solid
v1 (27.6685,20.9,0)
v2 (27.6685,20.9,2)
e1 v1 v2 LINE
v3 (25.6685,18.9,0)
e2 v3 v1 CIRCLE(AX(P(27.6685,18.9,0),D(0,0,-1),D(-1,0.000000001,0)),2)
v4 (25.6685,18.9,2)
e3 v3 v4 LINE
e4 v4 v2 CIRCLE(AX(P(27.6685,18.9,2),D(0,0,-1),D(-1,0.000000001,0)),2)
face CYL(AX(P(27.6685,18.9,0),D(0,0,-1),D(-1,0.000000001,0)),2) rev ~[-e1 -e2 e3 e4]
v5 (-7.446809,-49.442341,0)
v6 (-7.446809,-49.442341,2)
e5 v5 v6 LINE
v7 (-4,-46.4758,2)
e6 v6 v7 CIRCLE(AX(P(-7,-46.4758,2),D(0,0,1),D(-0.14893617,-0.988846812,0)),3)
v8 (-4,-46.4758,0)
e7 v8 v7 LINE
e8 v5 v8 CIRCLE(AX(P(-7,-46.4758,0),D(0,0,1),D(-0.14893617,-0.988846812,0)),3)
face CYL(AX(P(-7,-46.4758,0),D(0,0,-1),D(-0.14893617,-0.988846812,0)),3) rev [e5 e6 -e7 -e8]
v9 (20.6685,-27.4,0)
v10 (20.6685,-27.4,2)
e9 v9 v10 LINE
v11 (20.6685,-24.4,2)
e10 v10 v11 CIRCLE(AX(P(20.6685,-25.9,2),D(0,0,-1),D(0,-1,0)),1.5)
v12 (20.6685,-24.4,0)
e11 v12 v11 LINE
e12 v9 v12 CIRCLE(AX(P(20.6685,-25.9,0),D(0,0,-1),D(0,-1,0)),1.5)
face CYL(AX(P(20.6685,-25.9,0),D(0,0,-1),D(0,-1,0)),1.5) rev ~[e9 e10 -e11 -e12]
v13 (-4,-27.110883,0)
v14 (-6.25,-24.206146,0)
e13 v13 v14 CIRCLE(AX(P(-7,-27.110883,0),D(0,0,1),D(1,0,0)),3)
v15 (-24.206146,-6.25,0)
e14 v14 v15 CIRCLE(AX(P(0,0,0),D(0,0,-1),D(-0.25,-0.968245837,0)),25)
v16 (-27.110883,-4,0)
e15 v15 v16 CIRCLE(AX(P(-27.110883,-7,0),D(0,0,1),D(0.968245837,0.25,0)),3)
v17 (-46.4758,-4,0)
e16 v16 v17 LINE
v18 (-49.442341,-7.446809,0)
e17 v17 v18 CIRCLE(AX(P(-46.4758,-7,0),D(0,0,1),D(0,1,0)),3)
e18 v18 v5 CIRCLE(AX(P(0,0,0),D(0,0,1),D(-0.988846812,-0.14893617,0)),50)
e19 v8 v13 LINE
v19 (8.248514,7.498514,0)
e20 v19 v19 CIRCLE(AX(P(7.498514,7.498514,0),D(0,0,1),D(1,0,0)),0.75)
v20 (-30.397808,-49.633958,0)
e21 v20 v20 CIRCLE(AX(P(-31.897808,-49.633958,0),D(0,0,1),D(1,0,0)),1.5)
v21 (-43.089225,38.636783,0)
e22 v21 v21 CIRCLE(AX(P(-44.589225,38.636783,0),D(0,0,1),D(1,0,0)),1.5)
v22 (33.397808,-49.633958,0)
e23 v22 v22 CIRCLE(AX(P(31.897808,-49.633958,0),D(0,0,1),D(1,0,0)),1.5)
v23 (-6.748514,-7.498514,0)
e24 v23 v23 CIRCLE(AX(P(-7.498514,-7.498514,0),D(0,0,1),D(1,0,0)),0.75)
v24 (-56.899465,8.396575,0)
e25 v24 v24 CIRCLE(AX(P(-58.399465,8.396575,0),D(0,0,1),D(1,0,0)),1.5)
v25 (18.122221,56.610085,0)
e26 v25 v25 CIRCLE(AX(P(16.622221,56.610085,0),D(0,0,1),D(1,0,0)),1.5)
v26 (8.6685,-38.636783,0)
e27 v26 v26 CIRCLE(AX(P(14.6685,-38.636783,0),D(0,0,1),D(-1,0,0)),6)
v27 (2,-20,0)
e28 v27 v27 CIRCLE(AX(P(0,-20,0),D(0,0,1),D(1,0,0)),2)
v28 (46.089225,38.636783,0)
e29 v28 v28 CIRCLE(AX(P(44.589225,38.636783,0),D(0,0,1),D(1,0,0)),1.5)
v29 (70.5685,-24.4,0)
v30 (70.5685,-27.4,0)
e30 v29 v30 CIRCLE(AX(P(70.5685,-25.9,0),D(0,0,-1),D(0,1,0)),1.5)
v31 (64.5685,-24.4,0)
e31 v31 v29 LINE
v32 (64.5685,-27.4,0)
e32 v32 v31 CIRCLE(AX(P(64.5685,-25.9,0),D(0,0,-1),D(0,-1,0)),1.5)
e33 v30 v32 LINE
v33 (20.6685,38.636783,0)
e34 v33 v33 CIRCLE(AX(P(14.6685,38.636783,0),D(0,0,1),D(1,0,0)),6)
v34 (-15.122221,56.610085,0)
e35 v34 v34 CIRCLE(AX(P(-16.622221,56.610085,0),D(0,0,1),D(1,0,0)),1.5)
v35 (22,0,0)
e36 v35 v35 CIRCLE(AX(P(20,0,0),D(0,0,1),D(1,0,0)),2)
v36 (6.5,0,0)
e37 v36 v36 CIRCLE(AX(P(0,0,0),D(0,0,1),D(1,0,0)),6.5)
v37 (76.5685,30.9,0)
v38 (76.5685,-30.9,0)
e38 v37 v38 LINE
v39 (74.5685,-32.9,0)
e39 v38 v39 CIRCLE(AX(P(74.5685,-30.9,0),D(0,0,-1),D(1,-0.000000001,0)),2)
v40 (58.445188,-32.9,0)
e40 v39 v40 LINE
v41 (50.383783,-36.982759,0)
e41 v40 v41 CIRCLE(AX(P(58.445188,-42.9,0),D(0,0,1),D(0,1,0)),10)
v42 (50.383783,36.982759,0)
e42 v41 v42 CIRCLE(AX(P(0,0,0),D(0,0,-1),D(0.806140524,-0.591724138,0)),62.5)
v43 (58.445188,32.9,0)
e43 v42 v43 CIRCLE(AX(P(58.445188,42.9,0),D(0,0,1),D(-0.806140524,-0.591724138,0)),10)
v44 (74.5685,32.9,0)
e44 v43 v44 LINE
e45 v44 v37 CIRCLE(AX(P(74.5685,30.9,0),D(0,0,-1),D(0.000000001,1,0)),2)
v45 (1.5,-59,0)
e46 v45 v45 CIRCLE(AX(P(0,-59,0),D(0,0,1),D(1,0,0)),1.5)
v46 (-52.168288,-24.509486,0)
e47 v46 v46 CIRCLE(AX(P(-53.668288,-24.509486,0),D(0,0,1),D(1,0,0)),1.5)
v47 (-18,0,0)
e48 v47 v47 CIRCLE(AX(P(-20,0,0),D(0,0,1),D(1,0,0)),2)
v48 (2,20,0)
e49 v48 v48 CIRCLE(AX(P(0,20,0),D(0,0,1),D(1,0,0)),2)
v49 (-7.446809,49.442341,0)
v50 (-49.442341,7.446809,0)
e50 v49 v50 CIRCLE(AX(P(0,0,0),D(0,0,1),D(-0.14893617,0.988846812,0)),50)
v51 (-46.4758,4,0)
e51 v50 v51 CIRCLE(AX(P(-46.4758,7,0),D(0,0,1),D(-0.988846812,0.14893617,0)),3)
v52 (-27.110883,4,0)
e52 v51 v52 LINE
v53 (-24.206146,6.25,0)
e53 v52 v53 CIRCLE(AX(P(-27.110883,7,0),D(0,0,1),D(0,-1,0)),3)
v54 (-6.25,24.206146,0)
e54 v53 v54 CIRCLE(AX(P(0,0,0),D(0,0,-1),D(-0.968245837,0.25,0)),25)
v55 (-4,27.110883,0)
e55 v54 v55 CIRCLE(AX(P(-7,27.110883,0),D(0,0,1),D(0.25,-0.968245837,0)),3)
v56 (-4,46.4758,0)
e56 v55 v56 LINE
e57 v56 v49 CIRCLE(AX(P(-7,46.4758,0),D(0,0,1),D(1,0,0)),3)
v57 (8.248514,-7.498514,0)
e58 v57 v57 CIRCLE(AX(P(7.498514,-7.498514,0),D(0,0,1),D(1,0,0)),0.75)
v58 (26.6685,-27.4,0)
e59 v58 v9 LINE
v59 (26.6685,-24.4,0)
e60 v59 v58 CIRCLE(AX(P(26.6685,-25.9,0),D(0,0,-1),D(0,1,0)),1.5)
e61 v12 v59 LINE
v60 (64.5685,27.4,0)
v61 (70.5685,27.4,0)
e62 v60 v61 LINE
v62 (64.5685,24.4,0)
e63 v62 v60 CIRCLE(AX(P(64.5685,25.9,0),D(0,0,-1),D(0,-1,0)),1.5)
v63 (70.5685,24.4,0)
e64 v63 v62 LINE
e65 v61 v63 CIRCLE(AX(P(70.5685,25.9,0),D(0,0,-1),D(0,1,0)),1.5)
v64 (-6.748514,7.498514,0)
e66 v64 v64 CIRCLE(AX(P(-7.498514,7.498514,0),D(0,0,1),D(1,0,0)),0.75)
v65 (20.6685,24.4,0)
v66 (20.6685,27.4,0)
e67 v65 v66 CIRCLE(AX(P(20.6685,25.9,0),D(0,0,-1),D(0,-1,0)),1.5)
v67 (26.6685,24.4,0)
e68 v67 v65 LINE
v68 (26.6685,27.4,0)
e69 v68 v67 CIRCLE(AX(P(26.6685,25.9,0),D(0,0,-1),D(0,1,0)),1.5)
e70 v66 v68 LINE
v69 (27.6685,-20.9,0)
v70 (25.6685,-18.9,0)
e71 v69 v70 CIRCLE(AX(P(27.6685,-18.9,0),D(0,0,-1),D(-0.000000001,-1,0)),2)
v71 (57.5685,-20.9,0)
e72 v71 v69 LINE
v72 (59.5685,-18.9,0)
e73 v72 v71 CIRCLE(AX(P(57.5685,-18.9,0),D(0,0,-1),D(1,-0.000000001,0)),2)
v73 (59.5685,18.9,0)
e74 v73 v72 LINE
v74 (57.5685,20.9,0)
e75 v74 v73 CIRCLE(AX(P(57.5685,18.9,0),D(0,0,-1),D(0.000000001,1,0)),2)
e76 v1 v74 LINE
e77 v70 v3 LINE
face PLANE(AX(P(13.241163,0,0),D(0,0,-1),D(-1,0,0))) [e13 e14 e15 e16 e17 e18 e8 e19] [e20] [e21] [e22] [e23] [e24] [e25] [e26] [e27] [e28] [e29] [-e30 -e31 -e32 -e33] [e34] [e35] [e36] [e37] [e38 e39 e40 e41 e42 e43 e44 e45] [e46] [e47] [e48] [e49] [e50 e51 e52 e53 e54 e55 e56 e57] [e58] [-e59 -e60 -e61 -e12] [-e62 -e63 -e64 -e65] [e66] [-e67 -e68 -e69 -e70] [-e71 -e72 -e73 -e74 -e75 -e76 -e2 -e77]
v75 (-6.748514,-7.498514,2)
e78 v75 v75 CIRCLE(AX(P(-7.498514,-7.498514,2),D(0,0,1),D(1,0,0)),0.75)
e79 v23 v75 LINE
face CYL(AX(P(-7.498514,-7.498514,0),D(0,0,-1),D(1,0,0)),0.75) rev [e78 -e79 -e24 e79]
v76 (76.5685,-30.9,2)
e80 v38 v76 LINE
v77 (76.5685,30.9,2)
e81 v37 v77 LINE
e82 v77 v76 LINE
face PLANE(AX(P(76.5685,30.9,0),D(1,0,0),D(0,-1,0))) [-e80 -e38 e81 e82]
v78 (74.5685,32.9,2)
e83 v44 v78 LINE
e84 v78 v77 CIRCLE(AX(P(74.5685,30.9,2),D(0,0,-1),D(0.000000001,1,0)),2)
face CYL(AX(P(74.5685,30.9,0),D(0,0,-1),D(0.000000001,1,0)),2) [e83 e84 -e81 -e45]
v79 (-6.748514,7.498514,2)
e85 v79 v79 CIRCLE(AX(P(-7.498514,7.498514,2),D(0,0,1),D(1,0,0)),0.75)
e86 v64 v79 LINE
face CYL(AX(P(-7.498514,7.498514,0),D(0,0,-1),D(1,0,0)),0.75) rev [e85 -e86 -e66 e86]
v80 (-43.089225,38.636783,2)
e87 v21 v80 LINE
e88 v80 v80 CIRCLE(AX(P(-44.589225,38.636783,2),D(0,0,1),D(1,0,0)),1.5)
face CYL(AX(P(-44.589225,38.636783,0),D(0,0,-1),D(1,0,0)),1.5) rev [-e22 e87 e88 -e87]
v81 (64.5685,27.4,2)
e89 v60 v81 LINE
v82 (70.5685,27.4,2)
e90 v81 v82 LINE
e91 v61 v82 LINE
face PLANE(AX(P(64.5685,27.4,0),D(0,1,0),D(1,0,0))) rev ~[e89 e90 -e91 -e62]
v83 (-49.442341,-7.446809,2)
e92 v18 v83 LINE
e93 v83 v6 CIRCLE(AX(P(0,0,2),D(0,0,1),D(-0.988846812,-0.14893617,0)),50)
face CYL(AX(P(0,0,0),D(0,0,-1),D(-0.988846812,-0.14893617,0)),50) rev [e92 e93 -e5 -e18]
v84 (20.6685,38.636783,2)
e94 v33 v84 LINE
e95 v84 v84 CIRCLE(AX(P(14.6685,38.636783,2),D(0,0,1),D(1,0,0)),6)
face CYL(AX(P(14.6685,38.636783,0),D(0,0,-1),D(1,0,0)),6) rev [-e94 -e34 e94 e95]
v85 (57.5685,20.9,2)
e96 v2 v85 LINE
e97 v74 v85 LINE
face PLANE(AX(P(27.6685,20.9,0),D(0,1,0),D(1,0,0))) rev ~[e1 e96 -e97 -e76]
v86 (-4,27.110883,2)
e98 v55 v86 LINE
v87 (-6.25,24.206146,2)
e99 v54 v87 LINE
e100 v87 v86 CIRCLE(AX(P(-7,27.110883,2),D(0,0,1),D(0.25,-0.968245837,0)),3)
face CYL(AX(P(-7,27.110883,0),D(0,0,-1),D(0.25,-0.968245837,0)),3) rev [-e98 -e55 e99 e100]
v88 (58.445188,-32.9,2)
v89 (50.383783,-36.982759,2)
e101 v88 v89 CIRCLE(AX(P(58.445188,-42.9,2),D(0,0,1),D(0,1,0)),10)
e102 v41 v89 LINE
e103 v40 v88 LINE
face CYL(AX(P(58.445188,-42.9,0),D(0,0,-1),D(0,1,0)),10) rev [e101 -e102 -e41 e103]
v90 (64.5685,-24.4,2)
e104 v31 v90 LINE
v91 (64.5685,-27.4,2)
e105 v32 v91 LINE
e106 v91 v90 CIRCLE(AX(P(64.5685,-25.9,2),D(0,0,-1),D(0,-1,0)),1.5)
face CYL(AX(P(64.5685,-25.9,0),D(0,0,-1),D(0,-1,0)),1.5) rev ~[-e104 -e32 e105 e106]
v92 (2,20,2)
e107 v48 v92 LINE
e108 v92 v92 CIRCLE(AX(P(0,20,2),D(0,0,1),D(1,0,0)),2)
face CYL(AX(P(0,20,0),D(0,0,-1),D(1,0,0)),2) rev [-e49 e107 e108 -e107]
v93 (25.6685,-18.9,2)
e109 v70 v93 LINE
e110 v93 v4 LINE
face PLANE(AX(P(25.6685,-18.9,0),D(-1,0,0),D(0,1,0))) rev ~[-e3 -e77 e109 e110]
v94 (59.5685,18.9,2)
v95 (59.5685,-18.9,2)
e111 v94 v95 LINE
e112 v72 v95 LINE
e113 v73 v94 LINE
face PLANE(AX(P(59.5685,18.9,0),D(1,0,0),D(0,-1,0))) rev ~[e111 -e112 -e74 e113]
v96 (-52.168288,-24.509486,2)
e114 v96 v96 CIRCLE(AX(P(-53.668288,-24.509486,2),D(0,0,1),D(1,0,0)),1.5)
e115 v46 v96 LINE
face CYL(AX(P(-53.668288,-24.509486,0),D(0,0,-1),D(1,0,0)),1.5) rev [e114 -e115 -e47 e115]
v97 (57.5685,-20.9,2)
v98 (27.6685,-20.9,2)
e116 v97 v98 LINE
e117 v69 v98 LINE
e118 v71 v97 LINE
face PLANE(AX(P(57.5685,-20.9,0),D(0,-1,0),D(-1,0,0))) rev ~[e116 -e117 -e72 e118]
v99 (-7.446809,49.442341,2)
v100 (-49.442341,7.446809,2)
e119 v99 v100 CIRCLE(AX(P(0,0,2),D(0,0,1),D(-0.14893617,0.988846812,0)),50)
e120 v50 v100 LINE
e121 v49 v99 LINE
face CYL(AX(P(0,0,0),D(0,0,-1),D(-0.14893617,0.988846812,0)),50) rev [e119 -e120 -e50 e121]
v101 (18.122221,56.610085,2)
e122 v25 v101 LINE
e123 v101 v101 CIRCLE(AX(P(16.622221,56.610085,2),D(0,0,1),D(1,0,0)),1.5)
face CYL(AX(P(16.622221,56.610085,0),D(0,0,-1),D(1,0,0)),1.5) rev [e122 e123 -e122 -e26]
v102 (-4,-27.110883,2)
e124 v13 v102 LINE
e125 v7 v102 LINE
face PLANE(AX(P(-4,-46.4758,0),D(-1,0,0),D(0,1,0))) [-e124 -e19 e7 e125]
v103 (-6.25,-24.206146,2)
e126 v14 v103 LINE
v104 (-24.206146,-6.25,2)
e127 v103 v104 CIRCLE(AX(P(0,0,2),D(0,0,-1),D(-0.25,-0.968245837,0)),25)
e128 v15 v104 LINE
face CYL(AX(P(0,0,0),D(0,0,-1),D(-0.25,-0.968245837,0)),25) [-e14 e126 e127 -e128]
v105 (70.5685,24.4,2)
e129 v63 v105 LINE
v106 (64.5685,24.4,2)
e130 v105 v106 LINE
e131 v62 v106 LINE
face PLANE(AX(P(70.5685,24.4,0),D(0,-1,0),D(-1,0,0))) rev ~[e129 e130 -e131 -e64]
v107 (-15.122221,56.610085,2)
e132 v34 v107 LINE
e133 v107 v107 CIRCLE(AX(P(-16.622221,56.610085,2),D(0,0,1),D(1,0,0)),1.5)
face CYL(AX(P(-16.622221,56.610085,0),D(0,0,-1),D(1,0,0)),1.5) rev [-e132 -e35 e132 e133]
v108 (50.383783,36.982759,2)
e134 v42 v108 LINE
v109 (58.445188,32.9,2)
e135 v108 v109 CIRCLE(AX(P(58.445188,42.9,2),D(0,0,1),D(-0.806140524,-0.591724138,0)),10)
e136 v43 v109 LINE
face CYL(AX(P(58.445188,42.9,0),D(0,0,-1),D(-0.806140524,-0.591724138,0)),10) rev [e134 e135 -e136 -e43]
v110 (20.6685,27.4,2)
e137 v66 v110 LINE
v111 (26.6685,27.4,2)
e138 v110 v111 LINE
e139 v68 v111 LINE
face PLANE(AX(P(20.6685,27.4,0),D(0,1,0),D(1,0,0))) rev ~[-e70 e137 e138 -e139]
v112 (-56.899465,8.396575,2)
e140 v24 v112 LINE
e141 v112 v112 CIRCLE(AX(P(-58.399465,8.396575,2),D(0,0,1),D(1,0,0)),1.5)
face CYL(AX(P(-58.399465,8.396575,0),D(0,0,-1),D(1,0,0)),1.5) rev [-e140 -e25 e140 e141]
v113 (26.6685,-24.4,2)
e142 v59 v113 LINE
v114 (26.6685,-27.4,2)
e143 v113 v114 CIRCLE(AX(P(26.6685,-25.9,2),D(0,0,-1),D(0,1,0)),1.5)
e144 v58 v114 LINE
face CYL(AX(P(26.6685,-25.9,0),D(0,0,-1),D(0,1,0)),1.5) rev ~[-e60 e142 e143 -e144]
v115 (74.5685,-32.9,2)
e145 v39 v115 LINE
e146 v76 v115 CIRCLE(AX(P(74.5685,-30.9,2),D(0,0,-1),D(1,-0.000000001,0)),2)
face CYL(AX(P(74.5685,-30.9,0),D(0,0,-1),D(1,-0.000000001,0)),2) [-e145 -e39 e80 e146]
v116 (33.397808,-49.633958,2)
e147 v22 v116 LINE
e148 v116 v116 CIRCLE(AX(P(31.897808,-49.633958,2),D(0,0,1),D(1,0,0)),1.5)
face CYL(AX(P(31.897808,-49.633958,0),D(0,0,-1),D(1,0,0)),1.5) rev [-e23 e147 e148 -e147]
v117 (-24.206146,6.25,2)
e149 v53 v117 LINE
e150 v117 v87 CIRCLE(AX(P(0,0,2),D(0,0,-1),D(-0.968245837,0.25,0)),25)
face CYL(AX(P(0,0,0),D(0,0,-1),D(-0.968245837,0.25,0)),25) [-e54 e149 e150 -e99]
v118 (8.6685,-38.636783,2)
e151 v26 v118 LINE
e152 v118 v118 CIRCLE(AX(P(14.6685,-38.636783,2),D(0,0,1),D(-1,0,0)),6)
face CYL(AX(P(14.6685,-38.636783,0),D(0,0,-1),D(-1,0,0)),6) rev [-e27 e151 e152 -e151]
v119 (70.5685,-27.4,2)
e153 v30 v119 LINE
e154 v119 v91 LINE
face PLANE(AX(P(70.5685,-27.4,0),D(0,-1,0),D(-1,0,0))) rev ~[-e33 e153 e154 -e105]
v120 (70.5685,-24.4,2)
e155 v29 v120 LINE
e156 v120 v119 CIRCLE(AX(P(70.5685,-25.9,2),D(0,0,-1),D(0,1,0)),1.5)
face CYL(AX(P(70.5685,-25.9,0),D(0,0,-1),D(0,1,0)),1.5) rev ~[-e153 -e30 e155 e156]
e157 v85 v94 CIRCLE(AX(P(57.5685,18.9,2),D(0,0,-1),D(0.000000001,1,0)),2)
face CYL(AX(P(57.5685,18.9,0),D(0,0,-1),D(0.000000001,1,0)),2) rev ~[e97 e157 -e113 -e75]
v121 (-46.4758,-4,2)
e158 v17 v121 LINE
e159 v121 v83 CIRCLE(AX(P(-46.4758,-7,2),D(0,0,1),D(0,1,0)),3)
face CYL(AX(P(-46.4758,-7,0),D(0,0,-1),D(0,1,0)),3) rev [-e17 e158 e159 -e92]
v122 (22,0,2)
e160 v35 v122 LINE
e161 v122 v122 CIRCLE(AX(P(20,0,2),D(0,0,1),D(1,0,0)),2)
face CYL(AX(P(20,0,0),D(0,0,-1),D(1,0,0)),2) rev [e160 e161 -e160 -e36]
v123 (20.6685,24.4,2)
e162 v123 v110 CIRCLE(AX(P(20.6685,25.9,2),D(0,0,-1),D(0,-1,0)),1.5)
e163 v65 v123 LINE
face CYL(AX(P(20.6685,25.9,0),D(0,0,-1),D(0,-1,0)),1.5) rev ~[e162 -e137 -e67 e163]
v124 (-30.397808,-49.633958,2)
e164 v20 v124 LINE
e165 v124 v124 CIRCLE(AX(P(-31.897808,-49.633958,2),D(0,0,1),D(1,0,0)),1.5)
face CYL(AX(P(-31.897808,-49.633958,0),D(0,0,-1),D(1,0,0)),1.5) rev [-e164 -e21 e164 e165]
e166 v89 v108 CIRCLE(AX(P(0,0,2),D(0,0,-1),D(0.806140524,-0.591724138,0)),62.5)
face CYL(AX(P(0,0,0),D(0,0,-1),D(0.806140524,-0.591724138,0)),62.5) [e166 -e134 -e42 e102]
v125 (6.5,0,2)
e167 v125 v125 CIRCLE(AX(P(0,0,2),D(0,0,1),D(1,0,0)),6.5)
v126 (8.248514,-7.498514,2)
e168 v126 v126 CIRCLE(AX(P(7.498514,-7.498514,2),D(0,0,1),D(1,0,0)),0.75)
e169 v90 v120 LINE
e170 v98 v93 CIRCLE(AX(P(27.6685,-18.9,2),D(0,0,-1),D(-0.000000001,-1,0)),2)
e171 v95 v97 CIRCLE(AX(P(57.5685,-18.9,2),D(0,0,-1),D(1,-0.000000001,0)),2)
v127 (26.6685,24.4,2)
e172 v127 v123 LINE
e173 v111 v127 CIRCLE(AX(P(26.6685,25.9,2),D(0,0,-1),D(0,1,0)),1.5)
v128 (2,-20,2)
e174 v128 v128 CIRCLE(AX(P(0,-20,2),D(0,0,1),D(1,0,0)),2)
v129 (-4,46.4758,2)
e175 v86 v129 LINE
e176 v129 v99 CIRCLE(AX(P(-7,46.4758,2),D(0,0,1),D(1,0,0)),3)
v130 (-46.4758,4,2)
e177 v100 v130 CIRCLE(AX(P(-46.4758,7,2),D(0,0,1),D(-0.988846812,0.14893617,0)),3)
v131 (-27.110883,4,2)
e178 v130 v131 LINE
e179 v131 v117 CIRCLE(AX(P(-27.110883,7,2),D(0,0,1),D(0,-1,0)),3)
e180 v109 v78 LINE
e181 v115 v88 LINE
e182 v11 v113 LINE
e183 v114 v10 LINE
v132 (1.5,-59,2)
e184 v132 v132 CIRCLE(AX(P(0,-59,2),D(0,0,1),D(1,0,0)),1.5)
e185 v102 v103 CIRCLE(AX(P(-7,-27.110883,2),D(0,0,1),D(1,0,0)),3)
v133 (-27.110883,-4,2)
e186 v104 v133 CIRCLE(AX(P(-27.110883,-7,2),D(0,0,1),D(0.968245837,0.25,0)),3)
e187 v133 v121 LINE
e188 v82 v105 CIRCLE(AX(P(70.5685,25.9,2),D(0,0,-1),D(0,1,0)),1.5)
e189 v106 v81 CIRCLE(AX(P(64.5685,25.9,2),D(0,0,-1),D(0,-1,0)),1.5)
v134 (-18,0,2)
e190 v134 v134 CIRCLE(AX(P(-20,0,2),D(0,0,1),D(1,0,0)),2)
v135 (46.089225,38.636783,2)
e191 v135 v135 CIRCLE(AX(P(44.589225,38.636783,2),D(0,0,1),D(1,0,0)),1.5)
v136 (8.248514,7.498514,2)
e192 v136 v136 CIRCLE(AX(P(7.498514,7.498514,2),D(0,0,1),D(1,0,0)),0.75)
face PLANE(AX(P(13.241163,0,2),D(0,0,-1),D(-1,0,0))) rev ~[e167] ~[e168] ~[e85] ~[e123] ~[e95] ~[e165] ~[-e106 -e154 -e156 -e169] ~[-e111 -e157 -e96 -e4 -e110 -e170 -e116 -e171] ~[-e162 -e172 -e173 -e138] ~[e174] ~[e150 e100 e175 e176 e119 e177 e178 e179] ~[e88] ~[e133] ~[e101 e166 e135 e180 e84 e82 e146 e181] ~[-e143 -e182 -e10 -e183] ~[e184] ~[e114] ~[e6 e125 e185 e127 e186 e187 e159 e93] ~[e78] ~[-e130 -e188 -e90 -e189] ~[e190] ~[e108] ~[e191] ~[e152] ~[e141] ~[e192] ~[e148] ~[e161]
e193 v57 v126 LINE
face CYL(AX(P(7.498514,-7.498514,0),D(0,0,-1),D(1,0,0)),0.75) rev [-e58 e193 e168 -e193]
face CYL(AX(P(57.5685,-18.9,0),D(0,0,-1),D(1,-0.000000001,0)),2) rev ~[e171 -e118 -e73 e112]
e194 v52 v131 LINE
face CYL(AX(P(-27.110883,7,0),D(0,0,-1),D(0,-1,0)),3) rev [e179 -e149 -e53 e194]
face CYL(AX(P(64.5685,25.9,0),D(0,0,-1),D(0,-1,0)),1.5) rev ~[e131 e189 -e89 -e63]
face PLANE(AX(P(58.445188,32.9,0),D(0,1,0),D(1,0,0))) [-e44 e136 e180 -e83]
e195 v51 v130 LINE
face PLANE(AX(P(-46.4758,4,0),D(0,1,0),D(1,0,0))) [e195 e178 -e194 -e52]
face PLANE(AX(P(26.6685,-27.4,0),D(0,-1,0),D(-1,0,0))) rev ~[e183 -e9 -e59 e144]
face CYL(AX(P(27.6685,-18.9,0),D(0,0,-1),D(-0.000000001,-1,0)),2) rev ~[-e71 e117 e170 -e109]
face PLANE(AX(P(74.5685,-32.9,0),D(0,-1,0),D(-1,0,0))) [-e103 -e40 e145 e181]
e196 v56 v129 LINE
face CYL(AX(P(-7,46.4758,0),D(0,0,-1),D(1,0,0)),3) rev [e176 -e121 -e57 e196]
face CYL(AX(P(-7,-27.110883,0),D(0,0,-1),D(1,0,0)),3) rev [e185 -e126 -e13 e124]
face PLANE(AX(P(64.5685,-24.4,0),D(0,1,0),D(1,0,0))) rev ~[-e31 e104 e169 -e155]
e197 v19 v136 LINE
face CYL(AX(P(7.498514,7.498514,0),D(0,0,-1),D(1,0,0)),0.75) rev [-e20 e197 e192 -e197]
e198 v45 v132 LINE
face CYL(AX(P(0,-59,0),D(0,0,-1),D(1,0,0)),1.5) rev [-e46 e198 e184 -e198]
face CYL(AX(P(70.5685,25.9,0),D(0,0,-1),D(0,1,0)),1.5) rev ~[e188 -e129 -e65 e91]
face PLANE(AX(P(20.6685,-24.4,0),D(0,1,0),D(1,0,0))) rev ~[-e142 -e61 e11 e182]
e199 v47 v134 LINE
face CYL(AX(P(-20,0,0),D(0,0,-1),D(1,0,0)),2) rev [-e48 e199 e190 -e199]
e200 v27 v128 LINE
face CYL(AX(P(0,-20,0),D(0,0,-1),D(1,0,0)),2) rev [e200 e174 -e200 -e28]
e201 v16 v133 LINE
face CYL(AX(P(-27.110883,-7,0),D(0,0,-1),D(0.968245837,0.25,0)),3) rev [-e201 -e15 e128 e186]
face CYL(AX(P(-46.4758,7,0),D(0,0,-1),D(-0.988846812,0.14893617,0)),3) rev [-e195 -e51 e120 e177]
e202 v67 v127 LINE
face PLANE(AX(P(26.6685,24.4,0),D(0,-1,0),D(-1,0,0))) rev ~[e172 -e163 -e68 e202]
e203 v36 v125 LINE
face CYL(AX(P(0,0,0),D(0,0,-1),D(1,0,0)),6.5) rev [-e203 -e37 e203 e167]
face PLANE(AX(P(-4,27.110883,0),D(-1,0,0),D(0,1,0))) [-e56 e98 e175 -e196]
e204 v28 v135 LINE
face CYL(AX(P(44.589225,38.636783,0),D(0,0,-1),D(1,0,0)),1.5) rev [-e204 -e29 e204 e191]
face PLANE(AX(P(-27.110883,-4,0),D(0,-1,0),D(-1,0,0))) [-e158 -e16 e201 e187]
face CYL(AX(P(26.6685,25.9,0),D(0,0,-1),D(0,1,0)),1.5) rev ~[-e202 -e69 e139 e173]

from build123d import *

# Parameters (mm, degrees)
SKETCH_1_R      = 2
SKETCH_1_R_2    = 1.5
SKETCH_1_R_3    = 6.5
SKETCH_1_R_4    = 0.75
SKETCH_1_R_5    = 6
EXTRUDE_1_DEPTH = 2


with BuildPart() as part:
    # 草图1 → 凸台-拉伸1 (new body)
    with BuildSketch(Plane.XY):
        with BuildLine():
            Line((58.445187997, 32.9), (74.5685, 32.9))
            ThreePointArc((74.5685, 32.9), (75.982713562, 32.314213562), (76.5685, 30.9))
            Line((76.5685, 30.9), (76.5685, -30.9))
            ThreePointArc((76.5685, -30.9), (75.982713562, -32.314213562), (74.5685, -32.9))
            Line((74.5685, -32.9), (58.445187997, -32.9))
            ThreePointArc((58.445187997, -32.9), (53.927025417, -33.978889817), (50.383782756, -36.982758621))
            ThreePointArc((50.383782756, -36.982758621), (-62.5, 0), (50.383782756, 36.982758621))
            ThreePointArc((50.383782756, 36.982758621), (53.927025417, 33.978889817), (58.445187997, 32.9))
        make_face()
        with Locations((0, -20)):
            Circle(SKETCH_1_R, mode=Mode.SUBTRACT)
        with Locations((0, -59)):
            Circle(SKETCH_1_R_2, mode=Mode.SUBTRACT)
        with Locations((-20, 0)):
            Circle(SKETCH_1_R, mode=Mode.SUBTRACT)
        with Locations((0, 20)):
            Circle(SKETCH_1_R, mode=Mode.SUBTRACT)
        with Locations((20, 0)):
            Circle(SKETCH_1_R, mode=Mode.SUBTRACT)
        with Locations((-31.89780823, -49.633958437)):
            Circle(SKETCH_1_R_2, mode=Mode.SUBTRACT)
        with Locations((-53.668287726, -24.509485767)):
            Circle(SKETCH_1_R_2, mode=Mode.SUBTRACT)
        with Locations((-58.399465071, 8.396575458)):
            Circle(SKETCH_1_R_2, mode=Mode.SUBTRACT)
        with Locations((-44.589224887, 38.636783303)):
            Circle(SKETCH_1_R_2, mode=Mode.SUBTRACT)
        with Locations((-16.622220854, 56.610085443)):
            Circle(SKETCH_1_R_2, mode=Mode.SUBTRACT)
        with Locations((16.622220854, 56.610085443)):
            Circle(SKETCH_1_R_2, mode=Mode.SUBTRACT)
        with Locations((44.589224887, 38.636783303)):
            Circle(SKETCH_1_R_2, mode=Mode.SUBTRACT)
        with Locations((31.89780823, -49.633958437)):
            Circle(SKETCH_1_R_2, mode=Mode.SUBTRACT)
        Circle(SKETCH_1_R_3, mode=Mode.SUBTRACT)
        with Locations((-7.498513861, -7.498513861)):
            Circle(SKETCH_1_R_4, mode=Mode.SUBTRACT)
        with Locations((-7.498513861, 7.498513861)):
            Circle(SKETCH_1_R_4, mode=Mode.SUBTRACT)
        with Locations((7.498513861, 7.498513861)):
            Circle(SKETCH_1_R_4, mode=Mode.SUBTRACT)
        with Locations((7.498513861, -7.498513861)):
            Circle(SKETCH_1_R_4, mode=Mode.SUBTRACT)
        with Locations((14.6685, 38.636783303)):
            Circle(SKETCH_1_R_5, mode=Mode.SUBTRACT)
        with Locations(Location((14.6685, -38.636783303, 0), (0, 0, 180))):
            Circle(SKETCH_1_R_5, mode=Mode.SUBTRACT)
        with BuildLine():
            Line((-46.475800154, 4), (-27.110883423, 4))
            ThreePointArc((-27.110883423, 4), (-25.273766116, 4.628291755), (-24.206145914, 6.25))
            ThreePointArc((-24.206145914, 6.25), (-17.67766953, 17.67766953), (-6.25, 24.206145914))
            ThreePointArc((-6.25, 24.206145914), (-4.628291755, 25.273766116), (-4, 27.110883423))
            Line((-4, 27.110883423), (-4, 46.475800154))
            ThreePointArc((-4, 46.475800154), (-5.043015781, 48.749610341), (-7.446808511, 49.44234059))
            ThreePointArc((-7.446808511, 49.44234059), (-35.355339059, 35.355339059), (-49.44234059, 7.446808511))
            ThreePointArc((-49.44234059, 7.446808511), (-48.749610341, 5.043015781), (-46.475800154, 4))
        make_face(mode=Mode.SUBTRACT)
        with BuildLine():
            Line((-27.110883423, -4), (-46.475800154, -4))
            ThreePointArc((-46.475800154, -4), (-48.749610341, -5.043015781), (-49.44234059, -7.446808511))
            ThreePointArc((-49.44234059, -7.446808511), (-35.355339059, -35.355339059), (-7.446808511, -49.44234059))
            ThreePointArc((-7.446808511, -49.44234059), (-5.043015781, -48.749610341), (-4, -46.475800154))
            Line((-4, -46.475800154), (-4, -27.110883423))
            ThreePointArc((-4, -27.110883423), (-4.628291755, -25.273766116), (-6.25, -24.206145914))
            ThreePointArc((-6.25, -24.206145914), (-17.67766953, -17.67766953), (-24.206145914, -6.25))
            ThreePointArc((-24.206145914, -6.25), (-25.273766116, -4.628291755), (-27.110883423, -4))
        make_face(mode=Mode.SUBTRACT)
        with BuildLine():
            Line((20.6685, -24.4), (26.6685, -24.4))
            ThreePointArc((26.6685, -24.4), (28.1685, -25.9), (26.6685, -27.4))
            Line((26.6685, -27.4), (20.6685, -27.4))
            ThreePointArc((20.6685, -27.4), (19.1685, -25.9), (20.6685, -24.4))
        make_face(mode=Mode.SUBTRACT)
        with BuildLine():
            Line((20.6685, 27.4), (26.6685, 27.4))
            ThreePointArc((26.6685, 27.4), (28.1685, 25.9), (26.6685, 24.4))
            Line((26.6685, 24.4), (20.6685, 24.4))
            ThreePointArc((20.6685, 24.4), (19.1685, 25.9), (20.6685, 27.4))
        make_face(mode=Mode.SUBTRACT)
        with BuildLine():
            Line((64.5685, 27.4), (70.5685, 27.4))
            ThreePointArc((70.5685, 27.4), (72.0685, 25.9), (70.5685, 24.4))
            Line((70.5685, 24.4), (64.5685, 24.4))
            ThreePointArc((64.5685, 24.4), (63.0685, 25.9), (64.5685, 27.4))
        make_face(mode=Mode.SUBTRACT)
        with BuildLine():
            Line((64.5685, -24.4), (70.5685, -24.4))
            ThreePointArc((70.5685, -24.4), (72.0685, -25.9), (70.5685, -27.4))
            Line((70.5685, -27.4), (64.5685, -27.4))
            ThreePointArc((64.5685, -27.4), (63.0685, -25.9), (64.5685, -24.4))
        make_face(mode=Mode.SUBTRACT)
        with BuildLine():
            Line((27.6685, 20.9), (57.5685, 20.9))
            ThreePointArc((57.5685, 20.9), (58.982713562, 20.314213562), (59.5685, 18.9))
            Line((59.5685, 18.9), (59.5685, -18.9))
            ThreePointArc((59.5685, -18.9), (58.982713562, -20.314213562), (57.5685, -20.9))
            Line((57.5685, -20.9), (27.6685, -20.9))
            ThreePointArc((27.6685, -20.9), (26.254286438, -20.314213562), (25.6685, -18.9))
            Line((25.6685, -18.9), (25.6685, 18.9))
            ThreePointArc((25.6685, 18.9), (26.254286438, 20.314213562), (27.6685, 20.9))
        make_face(mode=Mode.SUBTRACT)
    extrude(amount=EXTRUDE_1_DEPTH)


solid = part.part
